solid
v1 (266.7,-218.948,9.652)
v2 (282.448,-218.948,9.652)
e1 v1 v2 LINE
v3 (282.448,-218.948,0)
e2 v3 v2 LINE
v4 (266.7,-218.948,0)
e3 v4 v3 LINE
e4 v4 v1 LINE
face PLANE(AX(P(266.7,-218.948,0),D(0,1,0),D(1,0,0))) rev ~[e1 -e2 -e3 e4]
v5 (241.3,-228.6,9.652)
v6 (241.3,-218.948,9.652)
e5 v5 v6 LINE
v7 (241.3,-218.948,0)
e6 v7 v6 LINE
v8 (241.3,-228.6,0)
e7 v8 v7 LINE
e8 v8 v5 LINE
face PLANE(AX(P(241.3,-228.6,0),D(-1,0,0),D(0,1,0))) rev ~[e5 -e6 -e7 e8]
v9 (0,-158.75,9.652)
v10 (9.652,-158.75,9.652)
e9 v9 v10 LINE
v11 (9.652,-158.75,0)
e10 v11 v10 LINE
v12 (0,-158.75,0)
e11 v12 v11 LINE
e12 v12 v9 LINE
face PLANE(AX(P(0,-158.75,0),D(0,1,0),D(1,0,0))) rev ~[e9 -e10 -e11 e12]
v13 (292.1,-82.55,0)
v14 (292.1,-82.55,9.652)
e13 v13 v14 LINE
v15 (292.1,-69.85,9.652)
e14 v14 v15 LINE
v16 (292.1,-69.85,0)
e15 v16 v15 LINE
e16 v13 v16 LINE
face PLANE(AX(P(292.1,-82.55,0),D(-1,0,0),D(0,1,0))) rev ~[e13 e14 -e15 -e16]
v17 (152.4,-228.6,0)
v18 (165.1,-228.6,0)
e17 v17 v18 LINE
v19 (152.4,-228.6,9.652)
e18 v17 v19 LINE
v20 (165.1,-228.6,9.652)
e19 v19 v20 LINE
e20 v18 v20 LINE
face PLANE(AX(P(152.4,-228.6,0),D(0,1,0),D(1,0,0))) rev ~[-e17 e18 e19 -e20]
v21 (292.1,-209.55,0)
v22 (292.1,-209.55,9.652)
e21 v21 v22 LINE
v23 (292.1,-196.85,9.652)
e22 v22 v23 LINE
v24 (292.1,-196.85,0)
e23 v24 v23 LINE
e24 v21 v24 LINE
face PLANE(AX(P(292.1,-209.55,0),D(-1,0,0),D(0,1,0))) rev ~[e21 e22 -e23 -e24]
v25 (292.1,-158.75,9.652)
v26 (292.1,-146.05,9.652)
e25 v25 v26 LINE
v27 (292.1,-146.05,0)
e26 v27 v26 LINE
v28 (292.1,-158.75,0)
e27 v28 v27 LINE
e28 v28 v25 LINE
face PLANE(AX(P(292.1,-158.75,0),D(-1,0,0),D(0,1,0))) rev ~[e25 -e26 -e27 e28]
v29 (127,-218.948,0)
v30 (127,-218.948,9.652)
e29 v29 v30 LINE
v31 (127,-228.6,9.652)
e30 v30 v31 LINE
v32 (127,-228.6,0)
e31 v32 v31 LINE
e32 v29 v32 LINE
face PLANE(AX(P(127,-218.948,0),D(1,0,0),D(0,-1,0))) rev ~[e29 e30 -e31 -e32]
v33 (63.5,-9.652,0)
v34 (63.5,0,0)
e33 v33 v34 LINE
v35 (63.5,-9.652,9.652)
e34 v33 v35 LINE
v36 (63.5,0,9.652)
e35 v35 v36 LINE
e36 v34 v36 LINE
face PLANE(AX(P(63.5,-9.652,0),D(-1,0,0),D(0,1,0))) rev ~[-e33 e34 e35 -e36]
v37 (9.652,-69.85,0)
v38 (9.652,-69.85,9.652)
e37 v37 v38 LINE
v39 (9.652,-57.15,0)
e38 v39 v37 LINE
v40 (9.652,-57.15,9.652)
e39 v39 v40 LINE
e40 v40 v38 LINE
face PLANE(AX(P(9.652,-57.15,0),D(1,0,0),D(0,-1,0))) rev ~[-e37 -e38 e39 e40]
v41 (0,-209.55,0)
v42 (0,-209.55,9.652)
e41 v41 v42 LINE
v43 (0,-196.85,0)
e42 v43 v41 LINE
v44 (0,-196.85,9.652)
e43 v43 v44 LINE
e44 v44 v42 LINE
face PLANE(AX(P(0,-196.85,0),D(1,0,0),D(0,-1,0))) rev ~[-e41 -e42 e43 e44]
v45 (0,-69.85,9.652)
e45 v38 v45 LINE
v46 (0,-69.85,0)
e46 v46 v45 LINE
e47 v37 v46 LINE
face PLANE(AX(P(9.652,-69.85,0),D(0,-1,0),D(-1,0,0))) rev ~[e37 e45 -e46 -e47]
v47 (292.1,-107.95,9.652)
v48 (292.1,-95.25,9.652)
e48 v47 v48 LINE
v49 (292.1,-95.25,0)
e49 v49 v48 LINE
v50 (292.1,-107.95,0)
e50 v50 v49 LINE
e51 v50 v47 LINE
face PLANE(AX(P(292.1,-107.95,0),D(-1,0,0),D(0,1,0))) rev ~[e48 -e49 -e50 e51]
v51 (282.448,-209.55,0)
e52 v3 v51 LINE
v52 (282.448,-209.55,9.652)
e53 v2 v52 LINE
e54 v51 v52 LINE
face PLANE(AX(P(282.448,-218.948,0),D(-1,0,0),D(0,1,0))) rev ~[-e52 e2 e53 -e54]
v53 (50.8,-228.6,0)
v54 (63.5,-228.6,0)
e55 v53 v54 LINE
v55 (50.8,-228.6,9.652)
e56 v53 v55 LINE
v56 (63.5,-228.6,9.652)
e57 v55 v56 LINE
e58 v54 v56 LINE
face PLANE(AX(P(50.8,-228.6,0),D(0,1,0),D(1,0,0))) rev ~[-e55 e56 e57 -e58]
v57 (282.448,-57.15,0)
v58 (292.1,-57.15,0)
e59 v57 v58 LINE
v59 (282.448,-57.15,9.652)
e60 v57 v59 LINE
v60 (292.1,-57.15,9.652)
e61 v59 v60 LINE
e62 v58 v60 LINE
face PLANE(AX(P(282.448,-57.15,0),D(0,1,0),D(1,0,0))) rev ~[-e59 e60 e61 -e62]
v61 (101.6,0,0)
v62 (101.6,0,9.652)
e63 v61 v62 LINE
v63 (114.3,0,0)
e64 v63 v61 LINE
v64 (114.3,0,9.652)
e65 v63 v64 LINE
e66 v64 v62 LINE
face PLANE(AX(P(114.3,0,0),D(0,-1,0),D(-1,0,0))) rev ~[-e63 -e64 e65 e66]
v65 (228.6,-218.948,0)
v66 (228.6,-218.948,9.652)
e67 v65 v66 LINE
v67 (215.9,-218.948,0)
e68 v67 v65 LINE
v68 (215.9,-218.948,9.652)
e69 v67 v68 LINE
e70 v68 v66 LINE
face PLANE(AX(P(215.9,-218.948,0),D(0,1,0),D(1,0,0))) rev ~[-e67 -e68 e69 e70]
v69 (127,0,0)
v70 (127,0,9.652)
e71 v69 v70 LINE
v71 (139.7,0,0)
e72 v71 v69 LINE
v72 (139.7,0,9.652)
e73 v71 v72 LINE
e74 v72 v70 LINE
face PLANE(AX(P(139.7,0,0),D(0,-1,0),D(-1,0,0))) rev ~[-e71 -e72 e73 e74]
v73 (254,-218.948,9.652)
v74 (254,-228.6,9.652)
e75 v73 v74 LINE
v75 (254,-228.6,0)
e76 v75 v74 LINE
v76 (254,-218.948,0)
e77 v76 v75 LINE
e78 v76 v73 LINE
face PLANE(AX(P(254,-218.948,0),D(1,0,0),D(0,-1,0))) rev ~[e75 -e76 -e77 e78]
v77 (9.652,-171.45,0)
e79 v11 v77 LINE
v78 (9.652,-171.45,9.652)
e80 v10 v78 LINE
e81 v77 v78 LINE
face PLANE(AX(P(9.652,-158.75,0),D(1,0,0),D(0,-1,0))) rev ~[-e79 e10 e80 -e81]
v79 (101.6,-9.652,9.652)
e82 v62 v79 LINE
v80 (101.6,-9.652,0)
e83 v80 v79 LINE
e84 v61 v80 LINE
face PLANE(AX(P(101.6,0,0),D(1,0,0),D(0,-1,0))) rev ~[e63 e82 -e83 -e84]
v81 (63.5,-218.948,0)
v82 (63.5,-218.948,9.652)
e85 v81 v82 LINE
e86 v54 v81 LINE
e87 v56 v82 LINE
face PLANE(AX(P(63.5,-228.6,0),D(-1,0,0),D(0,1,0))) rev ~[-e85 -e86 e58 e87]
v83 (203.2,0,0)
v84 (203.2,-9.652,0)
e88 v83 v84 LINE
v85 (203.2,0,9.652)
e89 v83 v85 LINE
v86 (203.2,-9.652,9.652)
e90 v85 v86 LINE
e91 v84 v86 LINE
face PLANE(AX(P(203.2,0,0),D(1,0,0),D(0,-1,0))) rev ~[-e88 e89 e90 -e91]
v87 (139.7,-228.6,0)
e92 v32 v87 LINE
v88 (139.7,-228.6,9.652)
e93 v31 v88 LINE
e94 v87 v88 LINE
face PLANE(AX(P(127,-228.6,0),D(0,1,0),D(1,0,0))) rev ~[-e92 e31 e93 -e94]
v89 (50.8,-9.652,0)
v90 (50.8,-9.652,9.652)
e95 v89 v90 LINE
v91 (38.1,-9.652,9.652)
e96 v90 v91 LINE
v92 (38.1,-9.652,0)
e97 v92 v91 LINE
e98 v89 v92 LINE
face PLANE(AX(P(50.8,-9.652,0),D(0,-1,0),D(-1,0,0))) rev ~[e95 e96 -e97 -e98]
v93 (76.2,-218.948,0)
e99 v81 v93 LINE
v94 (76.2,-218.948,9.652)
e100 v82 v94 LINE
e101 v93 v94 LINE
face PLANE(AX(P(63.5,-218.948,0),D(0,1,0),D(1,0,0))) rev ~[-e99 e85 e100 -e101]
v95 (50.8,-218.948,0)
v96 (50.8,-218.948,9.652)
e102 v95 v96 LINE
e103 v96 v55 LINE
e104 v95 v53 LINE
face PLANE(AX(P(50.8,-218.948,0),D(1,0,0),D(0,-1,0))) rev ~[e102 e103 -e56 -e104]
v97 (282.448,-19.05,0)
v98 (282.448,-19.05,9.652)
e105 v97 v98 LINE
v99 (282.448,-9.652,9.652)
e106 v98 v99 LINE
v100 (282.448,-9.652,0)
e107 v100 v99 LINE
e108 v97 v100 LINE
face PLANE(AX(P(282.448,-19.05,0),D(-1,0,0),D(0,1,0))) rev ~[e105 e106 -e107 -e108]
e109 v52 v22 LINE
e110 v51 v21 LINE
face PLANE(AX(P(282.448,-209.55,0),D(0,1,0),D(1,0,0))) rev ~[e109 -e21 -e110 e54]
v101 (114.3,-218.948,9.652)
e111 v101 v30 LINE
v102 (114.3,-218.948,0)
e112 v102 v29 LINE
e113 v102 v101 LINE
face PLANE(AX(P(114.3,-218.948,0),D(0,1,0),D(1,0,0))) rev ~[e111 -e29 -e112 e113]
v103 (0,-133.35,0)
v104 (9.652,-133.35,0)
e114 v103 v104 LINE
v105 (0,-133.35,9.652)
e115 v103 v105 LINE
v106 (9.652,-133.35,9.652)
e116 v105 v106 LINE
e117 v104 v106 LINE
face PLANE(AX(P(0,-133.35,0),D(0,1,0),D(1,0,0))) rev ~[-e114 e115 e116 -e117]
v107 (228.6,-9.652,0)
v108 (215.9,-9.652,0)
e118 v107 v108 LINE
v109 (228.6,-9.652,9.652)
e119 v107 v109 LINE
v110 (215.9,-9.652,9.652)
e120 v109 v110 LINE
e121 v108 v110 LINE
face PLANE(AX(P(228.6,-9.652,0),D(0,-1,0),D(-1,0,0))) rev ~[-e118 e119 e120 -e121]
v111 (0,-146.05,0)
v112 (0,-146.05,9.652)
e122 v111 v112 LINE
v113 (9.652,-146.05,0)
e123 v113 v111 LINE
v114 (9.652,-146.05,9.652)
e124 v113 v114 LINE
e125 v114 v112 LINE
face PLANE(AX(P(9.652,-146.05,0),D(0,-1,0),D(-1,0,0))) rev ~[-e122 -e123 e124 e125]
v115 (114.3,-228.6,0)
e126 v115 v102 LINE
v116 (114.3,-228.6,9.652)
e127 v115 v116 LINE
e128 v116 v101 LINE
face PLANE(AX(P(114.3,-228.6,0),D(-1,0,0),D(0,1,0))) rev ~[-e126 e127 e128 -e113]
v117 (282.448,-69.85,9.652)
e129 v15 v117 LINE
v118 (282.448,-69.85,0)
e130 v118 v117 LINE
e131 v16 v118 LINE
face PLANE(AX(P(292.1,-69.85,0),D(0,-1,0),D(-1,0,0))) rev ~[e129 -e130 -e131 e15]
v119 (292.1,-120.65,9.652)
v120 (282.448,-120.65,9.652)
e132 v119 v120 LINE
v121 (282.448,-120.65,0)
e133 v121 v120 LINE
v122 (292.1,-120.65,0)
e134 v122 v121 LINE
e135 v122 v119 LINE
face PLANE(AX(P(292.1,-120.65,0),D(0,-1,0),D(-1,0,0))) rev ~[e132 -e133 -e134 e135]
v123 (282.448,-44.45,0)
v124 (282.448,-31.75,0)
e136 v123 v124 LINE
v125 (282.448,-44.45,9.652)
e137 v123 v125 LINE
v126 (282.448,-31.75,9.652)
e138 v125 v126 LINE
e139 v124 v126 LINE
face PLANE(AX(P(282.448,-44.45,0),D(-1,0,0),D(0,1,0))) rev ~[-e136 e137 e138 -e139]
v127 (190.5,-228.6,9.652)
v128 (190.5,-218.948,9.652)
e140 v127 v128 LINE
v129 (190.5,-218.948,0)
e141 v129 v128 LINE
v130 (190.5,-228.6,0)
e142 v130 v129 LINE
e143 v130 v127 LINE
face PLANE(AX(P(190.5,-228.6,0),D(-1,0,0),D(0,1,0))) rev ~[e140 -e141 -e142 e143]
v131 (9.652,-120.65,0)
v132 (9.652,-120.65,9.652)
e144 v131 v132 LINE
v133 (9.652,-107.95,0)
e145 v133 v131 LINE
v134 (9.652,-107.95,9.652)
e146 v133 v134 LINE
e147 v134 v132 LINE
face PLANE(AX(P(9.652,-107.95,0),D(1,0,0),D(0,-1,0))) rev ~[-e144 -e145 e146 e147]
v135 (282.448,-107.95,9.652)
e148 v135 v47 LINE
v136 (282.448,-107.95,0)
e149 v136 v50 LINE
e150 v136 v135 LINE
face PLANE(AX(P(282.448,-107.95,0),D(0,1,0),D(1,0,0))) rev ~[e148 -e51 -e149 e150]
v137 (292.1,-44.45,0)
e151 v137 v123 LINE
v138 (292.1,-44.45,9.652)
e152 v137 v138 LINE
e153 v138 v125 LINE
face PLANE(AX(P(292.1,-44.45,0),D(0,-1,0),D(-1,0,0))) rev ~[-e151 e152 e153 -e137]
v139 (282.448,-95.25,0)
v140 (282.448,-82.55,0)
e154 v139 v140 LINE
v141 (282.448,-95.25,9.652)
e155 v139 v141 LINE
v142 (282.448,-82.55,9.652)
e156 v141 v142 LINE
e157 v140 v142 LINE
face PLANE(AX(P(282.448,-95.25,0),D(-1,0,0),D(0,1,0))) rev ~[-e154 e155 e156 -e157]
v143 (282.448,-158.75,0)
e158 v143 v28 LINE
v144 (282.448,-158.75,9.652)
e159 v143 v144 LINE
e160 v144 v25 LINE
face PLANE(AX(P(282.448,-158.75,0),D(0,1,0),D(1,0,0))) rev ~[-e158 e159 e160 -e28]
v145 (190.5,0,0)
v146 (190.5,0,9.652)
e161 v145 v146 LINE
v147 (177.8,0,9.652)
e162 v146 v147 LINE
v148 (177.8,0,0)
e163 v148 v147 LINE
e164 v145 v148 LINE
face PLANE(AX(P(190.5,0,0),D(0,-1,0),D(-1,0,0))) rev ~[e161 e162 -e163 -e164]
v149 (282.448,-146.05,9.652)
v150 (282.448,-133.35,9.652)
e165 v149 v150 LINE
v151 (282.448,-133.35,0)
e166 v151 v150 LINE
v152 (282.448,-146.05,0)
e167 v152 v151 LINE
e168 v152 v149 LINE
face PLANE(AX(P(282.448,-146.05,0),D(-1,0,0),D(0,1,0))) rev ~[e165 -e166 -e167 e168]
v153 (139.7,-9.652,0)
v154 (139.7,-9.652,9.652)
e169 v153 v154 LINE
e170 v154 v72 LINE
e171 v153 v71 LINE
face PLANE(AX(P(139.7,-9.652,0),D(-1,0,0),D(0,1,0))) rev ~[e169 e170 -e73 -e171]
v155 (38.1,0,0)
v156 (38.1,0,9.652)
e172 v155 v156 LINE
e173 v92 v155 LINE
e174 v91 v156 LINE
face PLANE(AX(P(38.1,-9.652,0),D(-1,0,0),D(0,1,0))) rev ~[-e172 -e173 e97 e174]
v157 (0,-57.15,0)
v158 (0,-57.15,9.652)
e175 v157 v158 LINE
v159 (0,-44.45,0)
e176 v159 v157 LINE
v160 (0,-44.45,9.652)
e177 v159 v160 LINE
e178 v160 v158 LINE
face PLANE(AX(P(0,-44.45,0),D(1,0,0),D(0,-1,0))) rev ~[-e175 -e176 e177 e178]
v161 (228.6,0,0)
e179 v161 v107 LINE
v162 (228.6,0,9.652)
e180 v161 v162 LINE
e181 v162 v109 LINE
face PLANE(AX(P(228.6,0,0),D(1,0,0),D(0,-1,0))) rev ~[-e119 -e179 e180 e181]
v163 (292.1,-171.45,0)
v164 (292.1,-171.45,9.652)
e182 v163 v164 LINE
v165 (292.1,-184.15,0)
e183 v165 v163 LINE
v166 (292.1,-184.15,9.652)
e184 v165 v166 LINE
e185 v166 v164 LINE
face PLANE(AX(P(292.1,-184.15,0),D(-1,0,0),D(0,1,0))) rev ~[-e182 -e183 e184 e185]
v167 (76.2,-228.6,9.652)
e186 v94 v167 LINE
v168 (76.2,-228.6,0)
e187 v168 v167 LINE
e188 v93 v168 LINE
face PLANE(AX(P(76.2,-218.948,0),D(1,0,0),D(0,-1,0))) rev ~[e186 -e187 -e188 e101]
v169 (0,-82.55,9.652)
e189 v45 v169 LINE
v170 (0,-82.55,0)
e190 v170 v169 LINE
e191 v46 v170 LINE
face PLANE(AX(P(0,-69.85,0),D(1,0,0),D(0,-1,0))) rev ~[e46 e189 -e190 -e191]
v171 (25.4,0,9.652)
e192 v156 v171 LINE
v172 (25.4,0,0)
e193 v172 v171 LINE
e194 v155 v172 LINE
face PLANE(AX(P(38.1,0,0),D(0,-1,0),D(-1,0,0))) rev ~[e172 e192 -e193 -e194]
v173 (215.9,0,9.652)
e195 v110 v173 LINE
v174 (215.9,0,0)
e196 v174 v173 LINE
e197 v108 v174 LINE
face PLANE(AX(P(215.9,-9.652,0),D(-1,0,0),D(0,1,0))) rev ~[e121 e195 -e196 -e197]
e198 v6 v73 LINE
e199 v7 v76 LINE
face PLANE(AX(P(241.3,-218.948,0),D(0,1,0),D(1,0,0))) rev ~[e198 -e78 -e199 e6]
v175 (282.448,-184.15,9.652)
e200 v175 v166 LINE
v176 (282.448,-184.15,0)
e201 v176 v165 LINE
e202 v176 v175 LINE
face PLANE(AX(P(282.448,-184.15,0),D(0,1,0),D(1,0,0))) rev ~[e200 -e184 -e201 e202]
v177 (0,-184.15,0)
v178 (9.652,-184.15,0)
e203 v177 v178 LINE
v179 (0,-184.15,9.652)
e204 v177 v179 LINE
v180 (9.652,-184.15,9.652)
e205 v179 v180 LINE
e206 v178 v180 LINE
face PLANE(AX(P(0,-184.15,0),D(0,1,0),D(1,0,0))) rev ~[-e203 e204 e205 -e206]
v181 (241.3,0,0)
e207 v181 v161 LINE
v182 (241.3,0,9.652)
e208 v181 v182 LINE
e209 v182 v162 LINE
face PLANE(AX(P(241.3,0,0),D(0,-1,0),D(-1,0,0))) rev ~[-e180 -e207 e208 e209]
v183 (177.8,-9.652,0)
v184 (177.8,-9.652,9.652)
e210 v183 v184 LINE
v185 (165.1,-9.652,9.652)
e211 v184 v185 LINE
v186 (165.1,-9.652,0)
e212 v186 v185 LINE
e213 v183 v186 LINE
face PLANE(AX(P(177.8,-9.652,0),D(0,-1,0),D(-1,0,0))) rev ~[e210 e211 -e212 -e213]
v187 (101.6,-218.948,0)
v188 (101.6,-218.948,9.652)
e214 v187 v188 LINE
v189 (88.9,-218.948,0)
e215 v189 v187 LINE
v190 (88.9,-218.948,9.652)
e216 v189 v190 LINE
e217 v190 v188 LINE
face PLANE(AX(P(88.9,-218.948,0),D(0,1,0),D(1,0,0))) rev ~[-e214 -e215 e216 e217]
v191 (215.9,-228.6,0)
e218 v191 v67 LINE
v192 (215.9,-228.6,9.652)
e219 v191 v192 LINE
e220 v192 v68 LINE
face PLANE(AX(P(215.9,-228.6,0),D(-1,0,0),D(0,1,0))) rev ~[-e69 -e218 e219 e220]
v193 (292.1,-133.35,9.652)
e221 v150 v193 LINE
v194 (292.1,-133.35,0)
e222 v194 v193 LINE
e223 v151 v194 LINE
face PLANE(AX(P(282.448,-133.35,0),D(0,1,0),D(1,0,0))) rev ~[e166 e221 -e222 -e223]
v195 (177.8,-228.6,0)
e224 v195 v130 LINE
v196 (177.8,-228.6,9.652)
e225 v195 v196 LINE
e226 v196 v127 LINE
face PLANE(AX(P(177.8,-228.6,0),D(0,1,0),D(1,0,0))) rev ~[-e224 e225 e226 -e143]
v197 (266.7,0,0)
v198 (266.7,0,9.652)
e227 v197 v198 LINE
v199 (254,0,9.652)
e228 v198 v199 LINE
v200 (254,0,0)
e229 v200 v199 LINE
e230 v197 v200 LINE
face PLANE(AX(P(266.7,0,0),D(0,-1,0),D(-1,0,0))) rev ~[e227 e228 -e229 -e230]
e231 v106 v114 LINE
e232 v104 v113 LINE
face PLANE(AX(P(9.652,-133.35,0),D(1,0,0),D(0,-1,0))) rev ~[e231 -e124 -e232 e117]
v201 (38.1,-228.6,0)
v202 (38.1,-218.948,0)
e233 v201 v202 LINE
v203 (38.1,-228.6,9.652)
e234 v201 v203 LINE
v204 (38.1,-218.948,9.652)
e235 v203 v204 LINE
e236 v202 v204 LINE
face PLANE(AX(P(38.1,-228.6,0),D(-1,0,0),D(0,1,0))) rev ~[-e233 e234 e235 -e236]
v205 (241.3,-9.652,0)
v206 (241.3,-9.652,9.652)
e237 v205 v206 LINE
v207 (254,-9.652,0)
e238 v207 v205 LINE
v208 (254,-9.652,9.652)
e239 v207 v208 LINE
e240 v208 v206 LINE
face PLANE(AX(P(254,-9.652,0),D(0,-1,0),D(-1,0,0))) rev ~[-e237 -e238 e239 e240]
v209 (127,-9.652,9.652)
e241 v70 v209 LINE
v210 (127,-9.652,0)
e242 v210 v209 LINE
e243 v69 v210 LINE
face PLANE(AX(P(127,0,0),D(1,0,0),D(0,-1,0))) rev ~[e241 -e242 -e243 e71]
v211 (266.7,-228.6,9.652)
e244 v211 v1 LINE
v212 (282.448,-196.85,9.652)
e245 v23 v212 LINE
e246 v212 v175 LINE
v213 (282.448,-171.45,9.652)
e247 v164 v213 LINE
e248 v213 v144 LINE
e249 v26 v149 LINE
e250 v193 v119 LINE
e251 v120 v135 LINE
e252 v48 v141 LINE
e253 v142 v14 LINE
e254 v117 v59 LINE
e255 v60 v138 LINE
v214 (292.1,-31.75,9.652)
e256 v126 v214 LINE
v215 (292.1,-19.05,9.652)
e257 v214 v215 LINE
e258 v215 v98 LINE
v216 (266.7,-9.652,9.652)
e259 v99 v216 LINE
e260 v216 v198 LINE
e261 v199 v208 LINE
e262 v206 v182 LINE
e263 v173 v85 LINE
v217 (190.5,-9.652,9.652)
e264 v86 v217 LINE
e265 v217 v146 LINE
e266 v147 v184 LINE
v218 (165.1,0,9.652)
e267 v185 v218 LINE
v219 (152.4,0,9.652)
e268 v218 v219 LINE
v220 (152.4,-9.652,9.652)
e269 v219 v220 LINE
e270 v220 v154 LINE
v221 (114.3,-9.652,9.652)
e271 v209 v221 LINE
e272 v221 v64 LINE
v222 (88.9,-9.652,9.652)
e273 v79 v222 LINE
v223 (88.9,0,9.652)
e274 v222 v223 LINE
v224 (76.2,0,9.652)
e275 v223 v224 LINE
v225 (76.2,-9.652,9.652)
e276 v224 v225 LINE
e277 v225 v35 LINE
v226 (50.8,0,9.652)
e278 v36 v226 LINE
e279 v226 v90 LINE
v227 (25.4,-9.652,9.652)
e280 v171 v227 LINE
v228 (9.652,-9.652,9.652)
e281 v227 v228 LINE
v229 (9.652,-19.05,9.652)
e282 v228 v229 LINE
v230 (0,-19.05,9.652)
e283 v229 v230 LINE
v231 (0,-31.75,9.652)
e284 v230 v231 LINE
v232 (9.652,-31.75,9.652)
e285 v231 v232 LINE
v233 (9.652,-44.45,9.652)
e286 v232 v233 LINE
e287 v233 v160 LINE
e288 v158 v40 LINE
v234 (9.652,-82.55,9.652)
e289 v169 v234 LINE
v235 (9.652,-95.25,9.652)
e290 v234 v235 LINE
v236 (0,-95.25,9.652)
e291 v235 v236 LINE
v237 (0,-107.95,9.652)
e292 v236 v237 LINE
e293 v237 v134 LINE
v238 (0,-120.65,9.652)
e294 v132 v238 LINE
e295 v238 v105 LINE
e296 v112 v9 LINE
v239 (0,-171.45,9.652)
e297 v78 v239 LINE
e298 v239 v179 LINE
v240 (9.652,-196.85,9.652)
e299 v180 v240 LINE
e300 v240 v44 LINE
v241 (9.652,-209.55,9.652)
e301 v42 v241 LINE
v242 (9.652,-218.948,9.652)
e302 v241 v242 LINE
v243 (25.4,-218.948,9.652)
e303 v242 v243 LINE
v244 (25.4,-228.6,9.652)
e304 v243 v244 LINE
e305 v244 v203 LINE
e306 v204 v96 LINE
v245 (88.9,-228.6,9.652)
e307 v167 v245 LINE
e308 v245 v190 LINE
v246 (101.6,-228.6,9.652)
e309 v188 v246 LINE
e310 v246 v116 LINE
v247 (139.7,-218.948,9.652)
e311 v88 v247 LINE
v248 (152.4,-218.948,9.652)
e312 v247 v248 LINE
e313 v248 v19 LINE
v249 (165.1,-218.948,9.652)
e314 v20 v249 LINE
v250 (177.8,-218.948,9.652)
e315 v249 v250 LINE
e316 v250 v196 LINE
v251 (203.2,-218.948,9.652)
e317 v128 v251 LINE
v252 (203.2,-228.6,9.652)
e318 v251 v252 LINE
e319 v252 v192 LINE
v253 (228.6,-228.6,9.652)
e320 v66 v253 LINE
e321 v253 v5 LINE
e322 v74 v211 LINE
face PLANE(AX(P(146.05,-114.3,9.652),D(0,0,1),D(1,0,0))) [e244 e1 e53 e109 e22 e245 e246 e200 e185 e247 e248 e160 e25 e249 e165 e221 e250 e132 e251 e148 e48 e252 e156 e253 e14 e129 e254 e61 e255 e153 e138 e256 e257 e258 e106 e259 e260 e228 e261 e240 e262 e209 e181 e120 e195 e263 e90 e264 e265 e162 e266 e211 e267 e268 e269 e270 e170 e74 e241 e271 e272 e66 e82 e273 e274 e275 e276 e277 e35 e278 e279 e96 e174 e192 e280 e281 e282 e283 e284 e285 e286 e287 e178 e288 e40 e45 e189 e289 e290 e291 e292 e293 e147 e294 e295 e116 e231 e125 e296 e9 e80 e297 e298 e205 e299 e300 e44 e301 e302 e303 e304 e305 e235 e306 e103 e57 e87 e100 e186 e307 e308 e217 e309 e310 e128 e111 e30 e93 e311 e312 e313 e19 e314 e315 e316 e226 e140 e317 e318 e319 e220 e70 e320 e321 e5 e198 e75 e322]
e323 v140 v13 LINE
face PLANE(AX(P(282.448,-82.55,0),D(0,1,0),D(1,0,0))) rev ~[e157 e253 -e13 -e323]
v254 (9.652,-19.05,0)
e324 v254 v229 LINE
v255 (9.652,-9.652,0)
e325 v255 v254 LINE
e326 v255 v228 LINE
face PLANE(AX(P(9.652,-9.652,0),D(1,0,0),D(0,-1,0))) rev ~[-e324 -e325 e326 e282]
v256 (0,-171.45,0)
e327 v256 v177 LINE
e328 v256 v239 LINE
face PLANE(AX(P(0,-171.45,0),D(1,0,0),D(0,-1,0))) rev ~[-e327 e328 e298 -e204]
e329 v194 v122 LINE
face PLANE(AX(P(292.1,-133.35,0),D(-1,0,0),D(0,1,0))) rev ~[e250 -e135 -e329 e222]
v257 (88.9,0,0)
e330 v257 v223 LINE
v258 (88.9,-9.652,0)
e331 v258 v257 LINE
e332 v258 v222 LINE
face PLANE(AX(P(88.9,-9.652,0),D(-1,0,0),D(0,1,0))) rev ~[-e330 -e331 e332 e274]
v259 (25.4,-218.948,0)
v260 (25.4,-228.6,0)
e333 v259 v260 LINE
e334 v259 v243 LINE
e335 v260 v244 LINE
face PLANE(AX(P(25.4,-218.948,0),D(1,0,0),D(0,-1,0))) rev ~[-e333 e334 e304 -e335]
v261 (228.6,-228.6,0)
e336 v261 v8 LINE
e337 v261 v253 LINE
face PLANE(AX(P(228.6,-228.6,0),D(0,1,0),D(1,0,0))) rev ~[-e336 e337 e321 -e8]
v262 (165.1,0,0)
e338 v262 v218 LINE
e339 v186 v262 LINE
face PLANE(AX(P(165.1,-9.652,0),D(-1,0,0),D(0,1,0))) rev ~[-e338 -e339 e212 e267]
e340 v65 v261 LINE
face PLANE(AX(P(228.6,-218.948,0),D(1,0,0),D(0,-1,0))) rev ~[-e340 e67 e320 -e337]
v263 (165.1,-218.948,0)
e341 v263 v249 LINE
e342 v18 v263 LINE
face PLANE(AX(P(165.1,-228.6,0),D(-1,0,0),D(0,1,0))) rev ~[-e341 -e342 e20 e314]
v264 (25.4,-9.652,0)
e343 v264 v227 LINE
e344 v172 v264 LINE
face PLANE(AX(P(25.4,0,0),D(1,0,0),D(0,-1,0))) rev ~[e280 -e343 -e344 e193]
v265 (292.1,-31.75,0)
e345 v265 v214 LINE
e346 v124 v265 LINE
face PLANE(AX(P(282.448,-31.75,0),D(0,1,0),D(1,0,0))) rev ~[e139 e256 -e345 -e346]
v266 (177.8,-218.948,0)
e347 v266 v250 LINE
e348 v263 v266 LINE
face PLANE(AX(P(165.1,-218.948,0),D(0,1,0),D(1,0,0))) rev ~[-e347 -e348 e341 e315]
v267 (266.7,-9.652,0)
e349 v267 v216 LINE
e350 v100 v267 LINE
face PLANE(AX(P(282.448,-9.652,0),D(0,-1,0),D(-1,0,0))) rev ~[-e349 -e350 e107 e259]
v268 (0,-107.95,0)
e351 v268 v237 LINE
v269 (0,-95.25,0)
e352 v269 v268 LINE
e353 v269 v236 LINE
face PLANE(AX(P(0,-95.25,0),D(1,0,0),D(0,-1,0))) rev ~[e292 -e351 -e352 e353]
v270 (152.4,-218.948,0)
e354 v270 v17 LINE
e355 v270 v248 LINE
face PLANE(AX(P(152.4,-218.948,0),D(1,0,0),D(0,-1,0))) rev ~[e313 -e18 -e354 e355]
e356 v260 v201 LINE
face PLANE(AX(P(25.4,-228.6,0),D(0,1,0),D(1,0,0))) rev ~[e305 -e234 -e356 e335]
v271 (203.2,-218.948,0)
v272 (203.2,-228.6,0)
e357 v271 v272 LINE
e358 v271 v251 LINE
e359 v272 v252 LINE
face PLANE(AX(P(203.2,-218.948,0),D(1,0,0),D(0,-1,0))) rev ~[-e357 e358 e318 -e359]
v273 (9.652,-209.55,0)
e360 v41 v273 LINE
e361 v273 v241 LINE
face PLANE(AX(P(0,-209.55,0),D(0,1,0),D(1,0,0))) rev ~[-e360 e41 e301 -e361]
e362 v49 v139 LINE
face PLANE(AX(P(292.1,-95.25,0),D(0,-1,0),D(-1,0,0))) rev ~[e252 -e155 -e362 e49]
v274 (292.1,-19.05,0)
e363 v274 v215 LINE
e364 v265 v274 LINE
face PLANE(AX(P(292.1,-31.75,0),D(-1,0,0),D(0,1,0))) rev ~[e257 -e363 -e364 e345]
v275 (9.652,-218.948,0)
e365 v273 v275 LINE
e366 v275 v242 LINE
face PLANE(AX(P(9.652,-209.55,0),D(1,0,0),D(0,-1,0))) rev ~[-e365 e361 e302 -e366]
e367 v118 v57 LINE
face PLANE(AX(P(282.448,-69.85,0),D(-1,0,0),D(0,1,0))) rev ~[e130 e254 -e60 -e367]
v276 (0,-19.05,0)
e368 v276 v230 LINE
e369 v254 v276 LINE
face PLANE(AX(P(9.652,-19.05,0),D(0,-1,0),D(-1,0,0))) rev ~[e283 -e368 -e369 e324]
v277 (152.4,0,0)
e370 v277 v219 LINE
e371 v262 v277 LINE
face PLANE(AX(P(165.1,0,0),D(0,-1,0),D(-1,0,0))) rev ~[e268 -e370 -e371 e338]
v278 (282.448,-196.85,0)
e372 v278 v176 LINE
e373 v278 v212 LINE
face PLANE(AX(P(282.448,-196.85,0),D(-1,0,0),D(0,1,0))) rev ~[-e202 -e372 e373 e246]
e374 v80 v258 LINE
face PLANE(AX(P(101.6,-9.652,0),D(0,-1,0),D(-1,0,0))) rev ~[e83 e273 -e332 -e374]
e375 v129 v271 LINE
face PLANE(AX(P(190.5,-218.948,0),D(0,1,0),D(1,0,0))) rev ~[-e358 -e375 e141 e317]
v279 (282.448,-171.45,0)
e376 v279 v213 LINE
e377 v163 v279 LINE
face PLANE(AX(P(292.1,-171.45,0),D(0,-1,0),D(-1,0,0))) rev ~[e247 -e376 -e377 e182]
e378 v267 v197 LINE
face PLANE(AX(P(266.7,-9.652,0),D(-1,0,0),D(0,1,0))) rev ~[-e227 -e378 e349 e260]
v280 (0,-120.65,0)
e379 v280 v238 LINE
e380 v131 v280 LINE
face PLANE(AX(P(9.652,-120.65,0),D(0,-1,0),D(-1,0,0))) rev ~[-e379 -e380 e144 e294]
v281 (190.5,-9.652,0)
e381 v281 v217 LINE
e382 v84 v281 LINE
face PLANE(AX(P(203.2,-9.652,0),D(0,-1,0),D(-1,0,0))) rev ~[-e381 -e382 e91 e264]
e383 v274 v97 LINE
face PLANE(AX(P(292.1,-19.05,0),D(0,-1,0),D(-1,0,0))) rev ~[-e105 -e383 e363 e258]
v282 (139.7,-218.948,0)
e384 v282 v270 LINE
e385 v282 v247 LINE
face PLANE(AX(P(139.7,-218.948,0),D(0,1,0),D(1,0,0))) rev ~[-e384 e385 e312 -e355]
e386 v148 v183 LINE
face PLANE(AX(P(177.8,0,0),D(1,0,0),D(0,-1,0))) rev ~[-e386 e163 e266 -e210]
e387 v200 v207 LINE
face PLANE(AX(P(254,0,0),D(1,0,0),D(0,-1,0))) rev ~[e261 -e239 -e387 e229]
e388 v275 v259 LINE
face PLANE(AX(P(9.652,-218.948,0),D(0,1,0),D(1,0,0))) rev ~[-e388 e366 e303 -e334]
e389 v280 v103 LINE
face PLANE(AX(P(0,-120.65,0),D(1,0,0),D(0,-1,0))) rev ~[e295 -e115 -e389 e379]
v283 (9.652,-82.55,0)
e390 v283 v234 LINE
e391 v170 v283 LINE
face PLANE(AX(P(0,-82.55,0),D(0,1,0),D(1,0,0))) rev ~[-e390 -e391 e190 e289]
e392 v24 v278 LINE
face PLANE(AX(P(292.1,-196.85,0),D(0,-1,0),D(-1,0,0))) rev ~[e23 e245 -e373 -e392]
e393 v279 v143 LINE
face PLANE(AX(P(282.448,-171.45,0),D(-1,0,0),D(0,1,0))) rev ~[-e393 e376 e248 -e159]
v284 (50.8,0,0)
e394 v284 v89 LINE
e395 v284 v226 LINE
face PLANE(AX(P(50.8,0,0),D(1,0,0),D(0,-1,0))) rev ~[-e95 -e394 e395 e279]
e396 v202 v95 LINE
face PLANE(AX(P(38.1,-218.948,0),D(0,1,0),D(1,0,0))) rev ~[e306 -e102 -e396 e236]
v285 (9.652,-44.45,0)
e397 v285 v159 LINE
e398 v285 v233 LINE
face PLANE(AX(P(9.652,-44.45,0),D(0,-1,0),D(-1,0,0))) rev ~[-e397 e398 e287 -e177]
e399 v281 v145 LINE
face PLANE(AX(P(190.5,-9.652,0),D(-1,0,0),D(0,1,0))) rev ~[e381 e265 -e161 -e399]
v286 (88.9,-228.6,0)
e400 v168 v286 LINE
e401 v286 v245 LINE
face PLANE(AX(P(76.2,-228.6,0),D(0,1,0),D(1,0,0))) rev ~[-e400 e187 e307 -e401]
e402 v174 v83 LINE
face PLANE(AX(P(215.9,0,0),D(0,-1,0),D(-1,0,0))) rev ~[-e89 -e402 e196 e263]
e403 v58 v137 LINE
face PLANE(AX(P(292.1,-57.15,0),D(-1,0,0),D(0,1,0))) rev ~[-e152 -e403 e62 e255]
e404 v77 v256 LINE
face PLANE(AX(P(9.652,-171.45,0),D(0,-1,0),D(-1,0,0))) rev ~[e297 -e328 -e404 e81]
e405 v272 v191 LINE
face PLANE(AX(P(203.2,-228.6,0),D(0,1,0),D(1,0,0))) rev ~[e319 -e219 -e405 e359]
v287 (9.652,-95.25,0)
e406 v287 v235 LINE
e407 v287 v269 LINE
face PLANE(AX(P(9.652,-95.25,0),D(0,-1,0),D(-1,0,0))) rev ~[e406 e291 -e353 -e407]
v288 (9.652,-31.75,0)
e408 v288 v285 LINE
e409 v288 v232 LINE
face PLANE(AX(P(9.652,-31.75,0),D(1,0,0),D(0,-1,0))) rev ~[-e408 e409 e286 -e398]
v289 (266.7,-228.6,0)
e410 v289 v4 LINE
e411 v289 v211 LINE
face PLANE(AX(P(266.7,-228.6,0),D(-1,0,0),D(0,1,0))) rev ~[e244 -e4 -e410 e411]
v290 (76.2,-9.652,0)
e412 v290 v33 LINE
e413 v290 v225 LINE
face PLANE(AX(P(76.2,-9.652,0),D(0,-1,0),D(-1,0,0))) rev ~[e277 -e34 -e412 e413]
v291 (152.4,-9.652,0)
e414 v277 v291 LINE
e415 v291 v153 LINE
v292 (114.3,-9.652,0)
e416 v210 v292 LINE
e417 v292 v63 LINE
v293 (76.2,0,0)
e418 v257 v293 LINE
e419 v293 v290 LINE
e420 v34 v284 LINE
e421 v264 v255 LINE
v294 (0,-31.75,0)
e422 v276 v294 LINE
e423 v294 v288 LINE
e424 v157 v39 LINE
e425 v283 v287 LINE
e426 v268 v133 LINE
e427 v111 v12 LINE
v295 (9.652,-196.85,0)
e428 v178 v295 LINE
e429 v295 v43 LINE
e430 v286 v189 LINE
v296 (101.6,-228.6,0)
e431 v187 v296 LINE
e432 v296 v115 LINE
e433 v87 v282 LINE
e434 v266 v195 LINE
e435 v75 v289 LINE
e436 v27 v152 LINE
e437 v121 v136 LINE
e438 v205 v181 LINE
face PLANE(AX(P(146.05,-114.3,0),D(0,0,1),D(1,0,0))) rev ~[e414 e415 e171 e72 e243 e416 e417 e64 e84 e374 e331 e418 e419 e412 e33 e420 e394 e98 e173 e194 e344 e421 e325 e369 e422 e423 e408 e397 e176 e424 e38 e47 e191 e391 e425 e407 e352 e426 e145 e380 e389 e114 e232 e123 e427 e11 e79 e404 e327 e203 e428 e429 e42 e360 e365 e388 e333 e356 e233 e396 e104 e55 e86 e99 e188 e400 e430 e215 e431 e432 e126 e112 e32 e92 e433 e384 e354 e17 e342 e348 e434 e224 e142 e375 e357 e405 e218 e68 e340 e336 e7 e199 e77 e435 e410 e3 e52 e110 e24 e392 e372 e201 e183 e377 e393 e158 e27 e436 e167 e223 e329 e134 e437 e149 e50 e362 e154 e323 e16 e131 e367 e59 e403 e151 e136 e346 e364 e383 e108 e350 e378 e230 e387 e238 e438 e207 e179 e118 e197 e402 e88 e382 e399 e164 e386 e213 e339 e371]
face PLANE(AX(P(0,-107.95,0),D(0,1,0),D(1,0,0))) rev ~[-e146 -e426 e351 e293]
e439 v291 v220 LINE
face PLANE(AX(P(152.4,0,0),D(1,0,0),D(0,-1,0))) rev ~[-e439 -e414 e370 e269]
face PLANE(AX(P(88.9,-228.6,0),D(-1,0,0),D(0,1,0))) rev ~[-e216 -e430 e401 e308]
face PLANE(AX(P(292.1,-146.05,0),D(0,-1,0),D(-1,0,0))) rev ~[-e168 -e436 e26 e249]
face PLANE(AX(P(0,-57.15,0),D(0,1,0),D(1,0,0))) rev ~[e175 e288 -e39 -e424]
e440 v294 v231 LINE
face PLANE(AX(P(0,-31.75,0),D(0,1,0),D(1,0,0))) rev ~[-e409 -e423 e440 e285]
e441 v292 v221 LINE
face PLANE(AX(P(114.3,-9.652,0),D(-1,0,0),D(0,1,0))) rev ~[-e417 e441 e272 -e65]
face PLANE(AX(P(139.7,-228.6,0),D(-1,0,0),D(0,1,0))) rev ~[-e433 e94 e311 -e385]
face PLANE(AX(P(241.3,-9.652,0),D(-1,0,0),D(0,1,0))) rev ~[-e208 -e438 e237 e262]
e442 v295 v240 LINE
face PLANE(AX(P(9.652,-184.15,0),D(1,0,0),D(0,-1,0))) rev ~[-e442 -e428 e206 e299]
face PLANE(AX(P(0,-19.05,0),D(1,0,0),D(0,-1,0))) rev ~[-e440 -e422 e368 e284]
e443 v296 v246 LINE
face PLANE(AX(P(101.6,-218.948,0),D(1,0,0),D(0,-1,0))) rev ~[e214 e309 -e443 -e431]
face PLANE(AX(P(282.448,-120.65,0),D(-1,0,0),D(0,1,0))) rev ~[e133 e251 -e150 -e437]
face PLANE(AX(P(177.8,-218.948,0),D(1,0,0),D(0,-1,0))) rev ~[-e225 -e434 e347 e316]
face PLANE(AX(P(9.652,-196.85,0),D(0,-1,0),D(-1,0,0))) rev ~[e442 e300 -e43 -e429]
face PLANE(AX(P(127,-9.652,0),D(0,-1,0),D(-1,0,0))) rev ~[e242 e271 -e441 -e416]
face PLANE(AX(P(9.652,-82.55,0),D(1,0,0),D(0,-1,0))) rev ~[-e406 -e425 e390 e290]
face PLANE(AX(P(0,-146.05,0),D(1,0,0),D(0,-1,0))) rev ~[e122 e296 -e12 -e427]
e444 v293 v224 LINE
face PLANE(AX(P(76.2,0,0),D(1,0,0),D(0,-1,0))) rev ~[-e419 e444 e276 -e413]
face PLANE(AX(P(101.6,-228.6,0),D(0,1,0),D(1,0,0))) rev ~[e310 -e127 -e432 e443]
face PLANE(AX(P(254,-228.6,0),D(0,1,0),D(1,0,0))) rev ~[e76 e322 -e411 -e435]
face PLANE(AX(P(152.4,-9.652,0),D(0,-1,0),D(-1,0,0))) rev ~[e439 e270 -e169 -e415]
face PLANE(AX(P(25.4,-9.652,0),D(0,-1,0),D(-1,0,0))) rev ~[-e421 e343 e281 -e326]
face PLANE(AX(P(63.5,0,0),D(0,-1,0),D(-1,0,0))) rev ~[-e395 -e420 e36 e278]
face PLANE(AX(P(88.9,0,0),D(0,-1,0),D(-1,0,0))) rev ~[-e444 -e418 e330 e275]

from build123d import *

# Parameters (mm, degrees)
F1_DEPTH = 9.652


with BuildPart() as f1:
    # F0 (on Top) → F1 (new body)
    with BuildSketch(Plane.XY):
        Polygon((38.1, 0), (25.4, 0), (25.4, -9.652), (9.652, -9.652), (9.652, -19.05), (0, -19.05), (0, -31.75), (9.652, -31.75), (9.652, -44.45), (0, -44.45), (0, -57.15), (9.652, -57.15), (9.652, -69.85), (0, -69.85), (0, -82.55), (9.652, -82.55), (9.652, -95.25), (0, -95.25), (0, -107.95), (9.652, -107.95), (9.652, -120.65), (0, -120.65), (0, -133.35), (9.652, -133.35), (9.652, -146.05), (0, -146.05), (0, -158.75), (9.652, -158.75), (9.652, -171.45), (0, -171.45), (0, -184.15), (9.652, -184.15), (9.652, -196.85), (0, -196.85), (0, -209.55), (9.652, -209.55), (9.652, -218.948), (25.4, -218.948), (25.4, -228.6), (38.1, -228.6), (38.1, -218.948), (50.8, -218.948), (50.8, -228.6), (63.5, -228.6), (63.5, -218.948), (76.2, -218.948), (76.2, -228.6), (88.9, -228.6), (88.9, -218.948), (101.6, -218.948), (101.6, -228.6), (114.3, -228.6), (114.3, -218.948), (127, -218.948), (127, -228.6), (139.7, -228.6), (139.7, -218.948), (152.4, -218.948), (152.4, -228.6), (165.1, -228.6), (165.1, -218.948), (177.8, -218.948), (177.8, -228.6), (190.5, -228.6), (190.5, -218.948), (203.2, -218.948), (203.2, -228.6), (215.9, -228.6), (215.9, -218.948), (228.6, -218.948), (228.6, -228.6), (241.3, -228.6), (241.3, -218.948), (254, -218.948), (254, -228.6), (266.7, -228.6), (266.7, -218.948), (282.448, -218.948), (282.448, -209.55), (292.1, -209.55), (292.1, -196.85), (282.448, -196.85), (282.448, -184.15), (292.1, -184.15), (292.1, -171.45), (282.448, -171.45), (282.448, -158.75), (292.1, -158.75), (292.1, -146.05), (282.448, -146.05), (282.448, -133.35), (292.1, -133.35), (292.1, -120.65), (282.448, -120.65), (282.448, -107.95), (292.1, -107.95), (292.1, -95.25), (282.448, -95.25), (282.448, -82.55), (292.1, -82.55), (292.1, -69.85), (282.448, -69.85), (282.448, -57.15), (292.1, -57.15), (292.1, -44.45), (282.448, -44.45), (282.448, -31.75), (292.1, -31.75), (292.1, -19.05), (282.448, -19.05), (282.448, -9.652), (266.7, -9.652), (266.7, 0), (254, 0), (254, -9.652), (241.3, -9.652), (241.3, 0), (228.6, 0), (228.6, -9.652), (215.9, -9.652), (215.9, 0), (203.2, 0), (203.2, -9.652), (190.5, -9.652), (190.5, 0), (177.8, 0), (177.8, -9.652), (165.1, -9.652), (165.1, 0), (152.4, 0), (152.4, -9.652), (139.7, -9.652), (139.7, 0), (127, 0), (127, -9.652), (114.3, -9.652), (114.3, 0), (101.6, 0), (101.6, -9.652), (88.9, -9.652), (88.9, 0), (76.2, 0), (76.2, -9.652), (63.5, -9.652), (63.5, 0), (50.8, 0), (50.8, -9.652), (38.1, -9.652), align=None)
    extrude(amount=F1_DEPTH)


solid = f1.part
